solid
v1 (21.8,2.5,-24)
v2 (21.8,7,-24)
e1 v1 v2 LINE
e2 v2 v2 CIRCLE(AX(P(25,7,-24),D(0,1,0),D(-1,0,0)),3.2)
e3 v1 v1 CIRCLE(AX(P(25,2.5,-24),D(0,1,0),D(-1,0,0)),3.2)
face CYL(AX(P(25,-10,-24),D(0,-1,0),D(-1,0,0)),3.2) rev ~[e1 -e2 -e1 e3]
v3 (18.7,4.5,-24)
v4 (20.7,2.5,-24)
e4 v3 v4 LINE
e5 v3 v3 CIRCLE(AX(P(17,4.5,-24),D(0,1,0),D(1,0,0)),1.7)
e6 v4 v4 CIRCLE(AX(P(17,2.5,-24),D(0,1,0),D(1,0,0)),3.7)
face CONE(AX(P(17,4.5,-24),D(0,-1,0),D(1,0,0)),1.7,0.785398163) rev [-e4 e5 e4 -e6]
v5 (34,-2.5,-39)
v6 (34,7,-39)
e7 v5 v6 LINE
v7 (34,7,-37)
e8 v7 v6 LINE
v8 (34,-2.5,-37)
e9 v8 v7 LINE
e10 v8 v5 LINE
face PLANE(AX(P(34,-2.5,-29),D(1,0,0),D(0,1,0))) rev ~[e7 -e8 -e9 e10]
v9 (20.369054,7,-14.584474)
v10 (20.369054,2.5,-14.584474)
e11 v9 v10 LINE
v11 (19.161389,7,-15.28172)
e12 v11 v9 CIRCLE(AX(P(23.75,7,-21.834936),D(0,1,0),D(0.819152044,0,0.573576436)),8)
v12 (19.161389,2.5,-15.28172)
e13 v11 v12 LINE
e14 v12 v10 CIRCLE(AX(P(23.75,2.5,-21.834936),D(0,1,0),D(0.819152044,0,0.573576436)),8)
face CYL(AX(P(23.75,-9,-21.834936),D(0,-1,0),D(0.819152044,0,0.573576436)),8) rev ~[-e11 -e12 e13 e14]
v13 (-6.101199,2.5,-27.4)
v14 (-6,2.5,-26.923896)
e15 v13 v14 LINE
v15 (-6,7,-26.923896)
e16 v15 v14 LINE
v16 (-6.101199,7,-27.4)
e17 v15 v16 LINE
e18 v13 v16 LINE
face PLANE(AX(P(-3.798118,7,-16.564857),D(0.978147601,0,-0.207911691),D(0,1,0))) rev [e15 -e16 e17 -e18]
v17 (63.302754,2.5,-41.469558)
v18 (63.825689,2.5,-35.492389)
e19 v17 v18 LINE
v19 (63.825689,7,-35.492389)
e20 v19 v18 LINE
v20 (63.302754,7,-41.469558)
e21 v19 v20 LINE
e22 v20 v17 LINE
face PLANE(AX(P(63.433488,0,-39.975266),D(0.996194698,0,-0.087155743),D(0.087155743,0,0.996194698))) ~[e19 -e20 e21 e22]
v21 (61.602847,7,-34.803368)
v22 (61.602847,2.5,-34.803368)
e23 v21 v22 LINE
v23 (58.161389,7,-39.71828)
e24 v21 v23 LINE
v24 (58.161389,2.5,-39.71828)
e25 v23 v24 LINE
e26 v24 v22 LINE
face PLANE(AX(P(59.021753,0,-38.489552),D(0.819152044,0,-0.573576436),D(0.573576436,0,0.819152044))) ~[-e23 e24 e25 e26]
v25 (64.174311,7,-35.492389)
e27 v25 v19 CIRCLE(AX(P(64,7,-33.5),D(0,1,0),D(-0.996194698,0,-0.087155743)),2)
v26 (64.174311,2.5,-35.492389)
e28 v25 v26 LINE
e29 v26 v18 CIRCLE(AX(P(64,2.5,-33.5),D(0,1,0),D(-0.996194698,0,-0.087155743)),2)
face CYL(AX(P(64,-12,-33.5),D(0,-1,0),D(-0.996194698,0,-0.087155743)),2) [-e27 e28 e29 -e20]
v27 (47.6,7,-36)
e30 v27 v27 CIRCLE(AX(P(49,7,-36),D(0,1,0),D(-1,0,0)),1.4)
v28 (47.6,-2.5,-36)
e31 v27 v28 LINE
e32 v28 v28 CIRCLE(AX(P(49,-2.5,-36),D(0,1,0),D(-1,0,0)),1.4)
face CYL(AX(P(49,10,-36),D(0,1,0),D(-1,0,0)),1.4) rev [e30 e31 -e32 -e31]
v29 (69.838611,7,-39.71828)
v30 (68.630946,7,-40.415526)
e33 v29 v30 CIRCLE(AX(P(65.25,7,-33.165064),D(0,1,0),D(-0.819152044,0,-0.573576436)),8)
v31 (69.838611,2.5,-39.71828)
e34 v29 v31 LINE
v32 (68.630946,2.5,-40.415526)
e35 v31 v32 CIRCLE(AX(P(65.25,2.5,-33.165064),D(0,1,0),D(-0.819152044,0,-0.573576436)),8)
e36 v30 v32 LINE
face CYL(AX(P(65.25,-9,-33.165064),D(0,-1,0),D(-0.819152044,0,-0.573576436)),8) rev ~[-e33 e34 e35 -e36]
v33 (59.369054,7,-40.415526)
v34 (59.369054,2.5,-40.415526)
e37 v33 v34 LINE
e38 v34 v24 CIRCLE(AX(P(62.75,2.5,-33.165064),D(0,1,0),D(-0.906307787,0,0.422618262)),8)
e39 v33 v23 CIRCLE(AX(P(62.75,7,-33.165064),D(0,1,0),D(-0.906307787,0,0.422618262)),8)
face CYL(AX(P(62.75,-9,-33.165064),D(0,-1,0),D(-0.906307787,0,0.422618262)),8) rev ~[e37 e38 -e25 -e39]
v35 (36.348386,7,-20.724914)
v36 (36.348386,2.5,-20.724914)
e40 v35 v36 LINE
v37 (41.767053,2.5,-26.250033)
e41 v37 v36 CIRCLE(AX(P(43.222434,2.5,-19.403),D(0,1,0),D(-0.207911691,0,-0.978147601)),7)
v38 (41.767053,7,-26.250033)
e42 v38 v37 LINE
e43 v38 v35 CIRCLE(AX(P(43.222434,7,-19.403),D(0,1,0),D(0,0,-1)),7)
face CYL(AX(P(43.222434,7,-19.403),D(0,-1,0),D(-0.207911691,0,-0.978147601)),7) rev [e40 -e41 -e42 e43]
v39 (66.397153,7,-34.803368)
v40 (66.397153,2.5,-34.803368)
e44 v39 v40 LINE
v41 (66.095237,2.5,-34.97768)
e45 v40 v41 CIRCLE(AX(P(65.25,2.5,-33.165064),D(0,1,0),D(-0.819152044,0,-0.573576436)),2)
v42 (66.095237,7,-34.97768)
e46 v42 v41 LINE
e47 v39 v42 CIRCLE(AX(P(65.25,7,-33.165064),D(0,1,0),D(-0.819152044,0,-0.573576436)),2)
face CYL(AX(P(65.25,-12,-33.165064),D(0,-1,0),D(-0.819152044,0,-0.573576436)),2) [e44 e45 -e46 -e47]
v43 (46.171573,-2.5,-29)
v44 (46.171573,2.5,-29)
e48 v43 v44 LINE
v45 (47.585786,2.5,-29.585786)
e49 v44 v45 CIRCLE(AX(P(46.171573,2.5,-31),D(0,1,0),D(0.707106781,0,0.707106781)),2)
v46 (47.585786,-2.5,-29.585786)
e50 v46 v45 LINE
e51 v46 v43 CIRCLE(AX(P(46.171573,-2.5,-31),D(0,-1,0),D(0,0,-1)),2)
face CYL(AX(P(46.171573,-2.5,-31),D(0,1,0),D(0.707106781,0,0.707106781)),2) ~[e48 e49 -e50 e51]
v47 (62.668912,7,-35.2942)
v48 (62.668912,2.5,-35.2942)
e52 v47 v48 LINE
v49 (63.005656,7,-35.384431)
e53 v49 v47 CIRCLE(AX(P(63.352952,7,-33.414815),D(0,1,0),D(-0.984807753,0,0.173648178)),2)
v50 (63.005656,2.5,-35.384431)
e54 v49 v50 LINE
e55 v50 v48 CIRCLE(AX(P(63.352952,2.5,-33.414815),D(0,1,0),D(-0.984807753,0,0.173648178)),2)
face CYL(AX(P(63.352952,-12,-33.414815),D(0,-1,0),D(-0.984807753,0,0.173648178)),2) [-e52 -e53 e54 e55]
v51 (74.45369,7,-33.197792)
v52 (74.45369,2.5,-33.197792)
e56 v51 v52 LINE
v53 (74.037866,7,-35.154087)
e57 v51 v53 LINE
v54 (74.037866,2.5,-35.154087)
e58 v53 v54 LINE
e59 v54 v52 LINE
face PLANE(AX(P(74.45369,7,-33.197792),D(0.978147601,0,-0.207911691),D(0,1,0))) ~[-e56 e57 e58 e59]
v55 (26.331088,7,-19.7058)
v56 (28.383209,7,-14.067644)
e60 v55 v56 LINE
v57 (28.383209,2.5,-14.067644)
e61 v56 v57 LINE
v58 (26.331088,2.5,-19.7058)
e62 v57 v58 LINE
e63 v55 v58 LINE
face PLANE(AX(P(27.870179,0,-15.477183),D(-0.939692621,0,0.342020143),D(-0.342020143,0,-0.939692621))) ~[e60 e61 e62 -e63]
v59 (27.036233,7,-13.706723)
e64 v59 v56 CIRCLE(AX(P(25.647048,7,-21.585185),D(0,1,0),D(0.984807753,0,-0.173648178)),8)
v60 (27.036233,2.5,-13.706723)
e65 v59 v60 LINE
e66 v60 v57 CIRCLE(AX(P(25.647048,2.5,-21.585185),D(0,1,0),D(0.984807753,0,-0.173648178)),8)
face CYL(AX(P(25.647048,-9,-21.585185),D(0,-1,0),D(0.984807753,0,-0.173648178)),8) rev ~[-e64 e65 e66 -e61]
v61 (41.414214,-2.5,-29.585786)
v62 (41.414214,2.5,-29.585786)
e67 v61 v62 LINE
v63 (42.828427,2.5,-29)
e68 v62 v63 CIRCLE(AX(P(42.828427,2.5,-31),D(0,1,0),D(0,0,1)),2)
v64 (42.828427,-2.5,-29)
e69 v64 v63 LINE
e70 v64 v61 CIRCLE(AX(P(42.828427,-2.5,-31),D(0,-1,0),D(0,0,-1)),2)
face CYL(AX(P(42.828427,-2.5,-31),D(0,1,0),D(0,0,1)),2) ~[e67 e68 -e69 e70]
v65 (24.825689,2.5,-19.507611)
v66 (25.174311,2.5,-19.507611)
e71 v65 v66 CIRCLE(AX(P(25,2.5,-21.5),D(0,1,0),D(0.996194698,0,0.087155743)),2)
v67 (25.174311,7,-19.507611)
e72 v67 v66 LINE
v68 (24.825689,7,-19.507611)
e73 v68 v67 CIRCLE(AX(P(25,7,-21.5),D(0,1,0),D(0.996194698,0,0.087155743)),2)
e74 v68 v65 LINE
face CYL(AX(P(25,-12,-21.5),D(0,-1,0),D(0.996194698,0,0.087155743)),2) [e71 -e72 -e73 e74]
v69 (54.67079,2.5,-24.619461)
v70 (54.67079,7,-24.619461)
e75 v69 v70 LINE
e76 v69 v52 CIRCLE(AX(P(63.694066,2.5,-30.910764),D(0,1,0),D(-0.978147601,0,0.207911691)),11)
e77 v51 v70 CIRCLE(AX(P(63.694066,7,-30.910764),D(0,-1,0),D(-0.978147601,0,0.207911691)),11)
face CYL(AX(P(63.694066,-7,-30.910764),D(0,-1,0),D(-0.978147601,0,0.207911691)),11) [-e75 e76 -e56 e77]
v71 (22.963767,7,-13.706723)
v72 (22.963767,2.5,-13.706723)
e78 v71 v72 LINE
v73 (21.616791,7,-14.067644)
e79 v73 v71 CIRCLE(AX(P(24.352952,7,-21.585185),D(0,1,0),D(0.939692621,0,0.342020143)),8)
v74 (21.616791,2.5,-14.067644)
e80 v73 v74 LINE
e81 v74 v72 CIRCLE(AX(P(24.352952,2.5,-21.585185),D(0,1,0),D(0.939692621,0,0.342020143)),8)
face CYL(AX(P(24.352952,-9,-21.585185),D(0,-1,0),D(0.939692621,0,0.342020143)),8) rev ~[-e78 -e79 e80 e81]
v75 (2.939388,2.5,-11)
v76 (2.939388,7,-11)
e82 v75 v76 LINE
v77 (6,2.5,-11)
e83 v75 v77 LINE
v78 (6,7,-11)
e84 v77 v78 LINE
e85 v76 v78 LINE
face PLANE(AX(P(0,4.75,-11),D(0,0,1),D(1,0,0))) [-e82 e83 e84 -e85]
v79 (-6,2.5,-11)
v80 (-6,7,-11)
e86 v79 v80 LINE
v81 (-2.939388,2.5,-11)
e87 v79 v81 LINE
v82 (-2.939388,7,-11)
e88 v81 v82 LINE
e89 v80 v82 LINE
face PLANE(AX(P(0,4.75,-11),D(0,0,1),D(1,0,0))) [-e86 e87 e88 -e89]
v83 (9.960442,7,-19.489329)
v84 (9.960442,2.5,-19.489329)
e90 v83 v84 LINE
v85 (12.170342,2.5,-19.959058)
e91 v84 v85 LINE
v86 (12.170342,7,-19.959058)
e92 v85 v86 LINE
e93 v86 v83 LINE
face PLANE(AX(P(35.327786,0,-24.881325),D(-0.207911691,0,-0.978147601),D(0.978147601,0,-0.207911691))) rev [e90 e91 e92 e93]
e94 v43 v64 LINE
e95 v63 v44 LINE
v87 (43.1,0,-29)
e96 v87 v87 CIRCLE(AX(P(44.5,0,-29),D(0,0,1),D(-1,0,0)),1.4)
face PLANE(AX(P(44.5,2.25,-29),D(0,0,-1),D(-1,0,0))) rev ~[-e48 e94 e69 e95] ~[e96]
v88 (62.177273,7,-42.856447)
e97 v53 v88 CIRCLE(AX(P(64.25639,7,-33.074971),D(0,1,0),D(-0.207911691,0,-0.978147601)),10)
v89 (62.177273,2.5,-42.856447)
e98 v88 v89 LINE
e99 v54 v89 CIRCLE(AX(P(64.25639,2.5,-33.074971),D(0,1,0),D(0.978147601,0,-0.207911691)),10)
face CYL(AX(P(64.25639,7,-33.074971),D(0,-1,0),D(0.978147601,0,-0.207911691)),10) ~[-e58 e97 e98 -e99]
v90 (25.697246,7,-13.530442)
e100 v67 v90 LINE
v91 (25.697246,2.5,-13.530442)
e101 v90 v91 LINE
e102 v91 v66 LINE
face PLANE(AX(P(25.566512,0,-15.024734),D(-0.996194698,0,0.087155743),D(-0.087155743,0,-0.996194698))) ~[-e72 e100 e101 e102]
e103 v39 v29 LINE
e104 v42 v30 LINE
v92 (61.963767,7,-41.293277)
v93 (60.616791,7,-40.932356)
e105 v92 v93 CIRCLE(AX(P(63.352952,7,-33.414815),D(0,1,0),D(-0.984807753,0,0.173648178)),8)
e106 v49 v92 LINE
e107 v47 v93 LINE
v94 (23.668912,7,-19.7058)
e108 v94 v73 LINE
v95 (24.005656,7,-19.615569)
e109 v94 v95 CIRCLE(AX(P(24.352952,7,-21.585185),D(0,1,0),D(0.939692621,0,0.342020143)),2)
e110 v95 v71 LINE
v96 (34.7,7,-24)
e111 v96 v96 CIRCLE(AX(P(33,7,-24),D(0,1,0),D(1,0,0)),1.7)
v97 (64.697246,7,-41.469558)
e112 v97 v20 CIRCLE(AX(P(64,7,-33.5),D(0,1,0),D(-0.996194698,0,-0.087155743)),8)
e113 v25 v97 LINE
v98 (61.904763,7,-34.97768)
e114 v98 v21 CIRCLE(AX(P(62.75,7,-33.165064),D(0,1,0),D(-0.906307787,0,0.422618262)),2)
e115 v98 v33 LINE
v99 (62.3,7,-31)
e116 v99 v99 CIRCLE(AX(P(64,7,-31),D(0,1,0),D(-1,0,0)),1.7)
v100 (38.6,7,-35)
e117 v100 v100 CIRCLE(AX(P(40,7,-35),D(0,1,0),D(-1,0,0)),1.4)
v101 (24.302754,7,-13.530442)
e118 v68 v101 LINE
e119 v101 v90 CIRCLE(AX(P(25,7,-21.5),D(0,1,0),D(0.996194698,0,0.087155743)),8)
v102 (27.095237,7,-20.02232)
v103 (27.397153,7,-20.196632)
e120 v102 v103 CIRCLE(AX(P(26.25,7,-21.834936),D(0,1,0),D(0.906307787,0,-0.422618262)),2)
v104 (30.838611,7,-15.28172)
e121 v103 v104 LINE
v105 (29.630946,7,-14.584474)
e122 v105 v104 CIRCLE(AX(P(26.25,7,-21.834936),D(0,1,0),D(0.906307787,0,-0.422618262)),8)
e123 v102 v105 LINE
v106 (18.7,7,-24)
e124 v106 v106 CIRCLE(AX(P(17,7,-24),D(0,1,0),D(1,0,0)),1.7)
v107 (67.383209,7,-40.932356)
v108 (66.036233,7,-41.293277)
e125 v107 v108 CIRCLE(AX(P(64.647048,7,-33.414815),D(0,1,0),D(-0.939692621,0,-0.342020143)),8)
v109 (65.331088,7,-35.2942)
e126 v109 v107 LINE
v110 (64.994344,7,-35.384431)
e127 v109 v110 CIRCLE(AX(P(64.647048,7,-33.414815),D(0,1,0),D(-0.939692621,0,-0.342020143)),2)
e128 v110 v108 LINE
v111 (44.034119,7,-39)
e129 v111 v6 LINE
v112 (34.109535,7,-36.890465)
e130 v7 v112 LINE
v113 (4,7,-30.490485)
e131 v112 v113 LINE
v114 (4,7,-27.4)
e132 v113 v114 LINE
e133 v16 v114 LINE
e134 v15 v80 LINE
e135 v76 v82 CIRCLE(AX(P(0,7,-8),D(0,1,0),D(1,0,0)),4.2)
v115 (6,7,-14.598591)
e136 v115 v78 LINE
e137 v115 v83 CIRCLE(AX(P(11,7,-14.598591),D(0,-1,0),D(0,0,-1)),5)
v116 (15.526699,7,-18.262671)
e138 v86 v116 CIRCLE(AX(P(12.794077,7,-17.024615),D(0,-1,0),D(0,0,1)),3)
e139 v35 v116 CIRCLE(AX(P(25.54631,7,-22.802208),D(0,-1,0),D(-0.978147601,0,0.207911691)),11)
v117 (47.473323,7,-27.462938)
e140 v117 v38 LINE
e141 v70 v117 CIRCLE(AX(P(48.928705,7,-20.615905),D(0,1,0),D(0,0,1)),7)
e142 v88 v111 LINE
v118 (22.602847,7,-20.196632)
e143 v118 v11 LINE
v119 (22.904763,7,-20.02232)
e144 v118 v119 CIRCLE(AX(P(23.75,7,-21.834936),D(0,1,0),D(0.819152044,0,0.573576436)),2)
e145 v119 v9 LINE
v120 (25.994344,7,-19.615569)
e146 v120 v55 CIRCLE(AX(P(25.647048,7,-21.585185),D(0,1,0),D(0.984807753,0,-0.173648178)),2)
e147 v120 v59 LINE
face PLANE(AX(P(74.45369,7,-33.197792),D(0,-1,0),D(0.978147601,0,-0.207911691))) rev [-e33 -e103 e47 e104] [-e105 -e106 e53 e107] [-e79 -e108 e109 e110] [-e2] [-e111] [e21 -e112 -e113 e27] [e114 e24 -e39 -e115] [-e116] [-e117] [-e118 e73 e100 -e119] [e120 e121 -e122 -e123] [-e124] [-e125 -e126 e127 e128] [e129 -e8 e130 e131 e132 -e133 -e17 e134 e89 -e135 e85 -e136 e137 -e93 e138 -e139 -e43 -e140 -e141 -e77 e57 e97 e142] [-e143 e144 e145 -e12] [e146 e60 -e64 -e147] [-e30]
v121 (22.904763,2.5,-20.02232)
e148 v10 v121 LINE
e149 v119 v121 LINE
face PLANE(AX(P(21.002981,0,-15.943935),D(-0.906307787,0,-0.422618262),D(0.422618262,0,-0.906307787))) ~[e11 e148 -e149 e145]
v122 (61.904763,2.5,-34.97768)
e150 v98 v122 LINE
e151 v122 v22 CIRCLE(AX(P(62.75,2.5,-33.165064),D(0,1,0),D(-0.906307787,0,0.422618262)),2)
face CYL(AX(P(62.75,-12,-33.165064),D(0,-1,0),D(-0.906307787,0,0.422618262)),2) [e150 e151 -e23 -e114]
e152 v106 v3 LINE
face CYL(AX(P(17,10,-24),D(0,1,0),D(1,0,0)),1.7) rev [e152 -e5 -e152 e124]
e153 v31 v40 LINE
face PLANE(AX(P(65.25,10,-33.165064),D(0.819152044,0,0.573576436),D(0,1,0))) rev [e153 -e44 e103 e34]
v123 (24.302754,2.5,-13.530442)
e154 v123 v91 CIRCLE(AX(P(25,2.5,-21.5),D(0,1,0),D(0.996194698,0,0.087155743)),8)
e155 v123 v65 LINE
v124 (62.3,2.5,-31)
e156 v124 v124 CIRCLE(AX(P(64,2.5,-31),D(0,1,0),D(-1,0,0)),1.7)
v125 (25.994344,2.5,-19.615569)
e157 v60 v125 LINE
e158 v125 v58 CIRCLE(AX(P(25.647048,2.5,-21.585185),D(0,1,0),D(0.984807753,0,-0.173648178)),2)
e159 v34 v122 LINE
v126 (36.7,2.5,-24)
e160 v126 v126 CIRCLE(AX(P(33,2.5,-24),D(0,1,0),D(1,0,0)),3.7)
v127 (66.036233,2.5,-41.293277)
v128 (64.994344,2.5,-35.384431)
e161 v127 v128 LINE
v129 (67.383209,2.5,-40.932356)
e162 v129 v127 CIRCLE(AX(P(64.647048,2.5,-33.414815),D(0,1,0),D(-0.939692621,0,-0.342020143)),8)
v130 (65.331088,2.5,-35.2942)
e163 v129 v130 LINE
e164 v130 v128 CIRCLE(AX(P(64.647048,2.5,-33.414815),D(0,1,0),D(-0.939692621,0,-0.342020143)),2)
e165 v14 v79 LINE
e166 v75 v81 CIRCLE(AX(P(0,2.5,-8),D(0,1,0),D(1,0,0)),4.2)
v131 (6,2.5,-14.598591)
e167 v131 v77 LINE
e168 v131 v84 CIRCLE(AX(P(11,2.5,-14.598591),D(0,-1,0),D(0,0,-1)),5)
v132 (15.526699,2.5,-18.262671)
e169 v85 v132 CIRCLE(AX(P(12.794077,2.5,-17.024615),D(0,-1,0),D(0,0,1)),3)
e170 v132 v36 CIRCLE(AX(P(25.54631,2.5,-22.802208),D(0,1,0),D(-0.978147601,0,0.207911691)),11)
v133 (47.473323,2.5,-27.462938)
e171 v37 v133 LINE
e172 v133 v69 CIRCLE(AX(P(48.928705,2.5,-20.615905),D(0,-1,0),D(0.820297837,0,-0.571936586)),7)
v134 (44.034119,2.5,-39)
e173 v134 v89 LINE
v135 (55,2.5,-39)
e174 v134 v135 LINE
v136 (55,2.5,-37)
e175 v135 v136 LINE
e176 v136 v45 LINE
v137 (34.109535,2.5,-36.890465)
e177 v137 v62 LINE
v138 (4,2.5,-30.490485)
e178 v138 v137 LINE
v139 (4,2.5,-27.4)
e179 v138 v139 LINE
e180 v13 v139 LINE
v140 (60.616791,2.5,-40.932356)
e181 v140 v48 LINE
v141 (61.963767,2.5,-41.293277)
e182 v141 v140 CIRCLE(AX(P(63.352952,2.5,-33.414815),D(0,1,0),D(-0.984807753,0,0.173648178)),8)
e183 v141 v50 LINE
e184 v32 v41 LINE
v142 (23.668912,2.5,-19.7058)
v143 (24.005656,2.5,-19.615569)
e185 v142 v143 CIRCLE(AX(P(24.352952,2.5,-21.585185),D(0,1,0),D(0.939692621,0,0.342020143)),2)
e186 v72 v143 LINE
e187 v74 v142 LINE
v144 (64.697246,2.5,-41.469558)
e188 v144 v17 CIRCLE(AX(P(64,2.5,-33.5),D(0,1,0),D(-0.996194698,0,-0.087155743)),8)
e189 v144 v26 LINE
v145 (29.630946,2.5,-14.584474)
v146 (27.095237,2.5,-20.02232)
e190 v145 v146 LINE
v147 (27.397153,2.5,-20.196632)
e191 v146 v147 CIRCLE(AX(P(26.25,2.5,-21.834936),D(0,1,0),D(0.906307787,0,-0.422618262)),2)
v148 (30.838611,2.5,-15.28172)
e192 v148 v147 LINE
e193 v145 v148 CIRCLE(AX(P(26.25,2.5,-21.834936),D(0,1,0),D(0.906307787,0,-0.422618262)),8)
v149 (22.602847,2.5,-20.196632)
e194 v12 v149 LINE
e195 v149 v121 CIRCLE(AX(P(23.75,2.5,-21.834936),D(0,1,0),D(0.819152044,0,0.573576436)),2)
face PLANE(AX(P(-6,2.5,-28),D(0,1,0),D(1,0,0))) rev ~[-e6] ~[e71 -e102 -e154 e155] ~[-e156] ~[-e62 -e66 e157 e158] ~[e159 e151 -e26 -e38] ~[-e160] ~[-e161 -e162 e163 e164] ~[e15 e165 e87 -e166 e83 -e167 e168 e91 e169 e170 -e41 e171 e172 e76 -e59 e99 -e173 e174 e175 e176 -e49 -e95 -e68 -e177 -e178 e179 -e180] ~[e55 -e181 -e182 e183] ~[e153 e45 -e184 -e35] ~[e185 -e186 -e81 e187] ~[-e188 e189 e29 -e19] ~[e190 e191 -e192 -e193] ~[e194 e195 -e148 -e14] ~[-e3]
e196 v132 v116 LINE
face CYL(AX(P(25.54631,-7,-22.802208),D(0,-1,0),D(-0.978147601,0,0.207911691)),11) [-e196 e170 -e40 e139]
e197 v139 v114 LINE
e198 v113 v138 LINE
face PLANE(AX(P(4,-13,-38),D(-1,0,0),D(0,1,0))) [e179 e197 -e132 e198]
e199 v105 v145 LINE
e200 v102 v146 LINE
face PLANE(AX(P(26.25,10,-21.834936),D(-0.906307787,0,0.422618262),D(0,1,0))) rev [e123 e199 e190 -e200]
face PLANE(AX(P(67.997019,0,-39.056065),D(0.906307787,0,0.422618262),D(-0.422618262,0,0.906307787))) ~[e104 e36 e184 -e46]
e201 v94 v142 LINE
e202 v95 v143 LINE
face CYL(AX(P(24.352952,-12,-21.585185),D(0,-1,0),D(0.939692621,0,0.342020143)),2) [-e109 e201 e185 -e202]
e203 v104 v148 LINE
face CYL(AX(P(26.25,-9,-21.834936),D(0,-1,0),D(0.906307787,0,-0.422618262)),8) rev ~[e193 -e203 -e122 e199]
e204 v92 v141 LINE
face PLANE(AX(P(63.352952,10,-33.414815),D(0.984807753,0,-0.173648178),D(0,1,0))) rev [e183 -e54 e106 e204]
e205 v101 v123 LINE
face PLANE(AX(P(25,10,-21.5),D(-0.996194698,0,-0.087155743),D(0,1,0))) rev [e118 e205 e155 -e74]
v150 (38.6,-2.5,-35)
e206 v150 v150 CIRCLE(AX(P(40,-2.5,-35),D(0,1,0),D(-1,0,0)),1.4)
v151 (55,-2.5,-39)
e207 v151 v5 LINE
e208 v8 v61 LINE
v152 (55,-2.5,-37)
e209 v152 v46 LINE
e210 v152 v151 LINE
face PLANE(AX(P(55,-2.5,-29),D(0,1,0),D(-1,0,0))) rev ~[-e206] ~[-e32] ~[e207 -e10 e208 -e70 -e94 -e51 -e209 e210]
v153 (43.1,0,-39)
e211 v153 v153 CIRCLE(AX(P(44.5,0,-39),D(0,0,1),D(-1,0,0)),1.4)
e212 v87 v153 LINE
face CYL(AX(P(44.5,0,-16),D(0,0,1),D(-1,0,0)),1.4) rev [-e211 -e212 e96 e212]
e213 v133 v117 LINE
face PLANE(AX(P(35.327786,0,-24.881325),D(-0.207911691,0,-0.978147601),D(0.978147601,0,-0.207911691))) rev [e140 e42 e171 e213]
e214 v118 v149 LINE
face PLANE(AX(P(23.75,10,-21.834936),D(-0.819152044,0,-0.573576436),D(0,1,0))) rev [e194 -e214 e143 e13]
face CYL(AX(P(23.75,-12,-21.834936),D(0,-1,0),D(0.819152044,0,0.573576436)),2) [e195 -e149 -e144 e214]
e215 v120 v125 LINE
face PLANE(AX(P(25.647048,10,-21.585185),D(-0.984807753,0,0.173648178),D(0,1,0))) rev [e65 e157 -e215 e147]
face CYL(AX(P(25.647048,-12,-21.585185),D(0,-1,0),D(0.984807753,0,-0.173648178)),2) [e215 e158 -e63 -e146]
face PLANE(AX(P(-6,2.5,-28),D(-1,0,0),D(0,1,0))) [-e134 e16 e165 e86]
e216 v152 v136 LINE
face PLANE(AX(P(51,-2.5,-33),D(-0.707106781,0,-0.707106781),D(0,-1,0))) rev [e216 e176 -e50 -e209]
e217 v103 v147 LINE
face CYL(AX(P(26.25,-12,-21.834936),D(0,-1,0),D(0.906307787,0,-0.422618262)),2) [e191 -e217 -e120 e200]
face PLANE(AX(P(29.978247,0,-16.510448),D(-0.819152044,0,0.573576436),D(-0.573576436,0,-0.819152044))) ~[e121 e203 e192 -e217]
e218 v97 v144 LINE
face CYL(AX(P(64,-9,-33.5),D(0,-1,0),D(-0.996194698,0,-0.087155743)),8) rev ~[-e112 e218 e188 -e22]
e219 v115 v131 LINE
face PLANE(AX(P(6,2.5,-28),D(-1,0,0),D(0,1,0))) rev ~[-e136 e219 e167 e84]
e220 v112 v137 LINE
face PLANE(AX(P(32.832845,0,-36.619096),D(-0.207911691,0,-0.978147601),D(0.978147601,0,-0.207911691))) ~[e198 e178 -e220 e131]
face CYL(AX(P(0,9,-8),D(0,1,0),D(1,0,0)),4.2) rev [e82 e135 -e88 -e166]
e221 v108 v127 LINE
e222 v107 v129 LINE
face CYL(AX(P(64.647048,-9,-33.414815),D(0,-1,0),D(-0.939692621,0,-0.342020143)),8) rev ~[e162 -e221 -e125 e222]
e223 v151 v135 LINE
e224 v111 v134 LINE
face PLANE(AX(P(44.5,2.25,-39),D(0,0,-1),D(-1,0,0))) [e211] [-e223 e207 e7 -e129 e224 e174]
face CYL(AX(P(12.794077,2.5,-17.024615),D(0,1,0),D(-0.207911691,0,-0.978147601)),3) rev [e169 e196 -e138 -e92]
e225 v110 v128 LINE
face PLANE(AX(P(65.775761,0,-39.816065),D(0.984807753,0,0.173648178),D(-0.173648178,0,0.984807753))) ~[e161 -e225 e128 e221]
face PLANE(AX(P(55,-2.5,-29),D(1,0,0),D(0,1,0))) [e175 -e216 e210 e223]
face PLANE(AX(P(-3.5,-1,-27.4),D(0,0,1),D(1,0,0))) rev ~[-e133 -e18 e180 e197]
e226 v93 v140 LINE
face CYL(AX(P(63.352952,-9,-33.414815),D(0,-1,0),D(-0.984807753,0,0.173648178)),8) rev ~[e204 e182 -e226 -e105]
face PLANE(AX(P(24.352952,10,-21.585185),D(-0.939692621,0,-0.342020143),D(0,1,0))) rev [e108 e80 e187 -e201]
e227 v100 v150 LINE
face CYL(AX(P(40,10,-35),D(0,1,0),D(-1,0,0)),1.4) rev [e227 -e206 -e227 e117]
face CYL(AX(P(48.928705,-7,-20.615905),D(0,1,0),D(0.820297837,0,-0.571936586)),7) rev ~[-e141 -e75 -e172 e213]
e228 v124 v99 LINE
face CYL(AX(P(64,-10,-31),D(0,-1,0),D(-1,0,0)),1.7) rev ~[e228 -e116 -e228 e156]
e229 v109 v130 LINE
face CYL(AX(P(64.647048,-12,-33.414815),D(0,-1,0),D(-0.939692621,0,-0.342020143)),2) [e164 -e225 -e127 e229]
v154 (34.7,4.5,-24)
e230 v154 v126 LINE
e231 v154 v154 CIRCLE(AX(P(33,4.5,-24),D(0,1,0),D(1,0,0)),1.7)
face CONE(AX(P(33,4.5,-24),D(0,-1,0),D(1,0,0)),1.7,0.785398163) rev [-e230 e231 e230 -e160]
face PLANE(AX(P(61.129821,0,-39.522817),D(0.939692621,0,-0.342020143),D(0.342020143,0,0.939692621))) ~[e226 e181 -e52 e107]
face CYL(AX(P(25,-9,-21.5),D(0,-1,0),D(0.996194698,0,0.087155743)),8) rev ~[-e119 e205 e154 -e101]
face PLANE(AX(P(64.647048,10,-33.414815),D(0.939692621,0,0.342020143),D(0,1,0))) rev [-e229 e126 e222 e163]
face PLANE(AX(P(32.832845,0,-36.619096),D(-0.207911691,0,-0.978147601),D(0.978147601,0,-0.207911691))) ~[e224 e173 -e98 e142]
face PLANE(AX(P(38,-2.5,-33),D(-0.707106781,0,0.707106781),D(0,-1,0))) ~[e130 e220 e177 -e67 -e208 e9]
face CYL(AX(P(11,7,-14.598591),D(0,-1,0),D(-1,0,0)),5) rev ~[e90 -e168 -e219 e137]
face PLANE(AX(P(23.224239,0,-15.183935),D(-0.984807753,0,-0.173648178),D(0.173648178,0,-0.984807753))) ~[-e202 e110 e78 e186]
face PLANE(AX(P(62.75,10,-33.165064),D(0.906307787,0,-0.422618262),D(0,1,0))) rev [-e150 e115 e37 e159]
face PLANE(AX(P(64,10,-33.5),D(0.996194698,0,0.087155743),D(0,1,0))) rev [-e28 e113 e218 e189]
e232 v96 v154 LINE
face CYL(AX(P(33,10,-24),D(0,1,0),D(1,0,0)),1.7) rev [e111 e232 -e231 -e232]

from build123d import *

# Parameters (mm, degrees)
CYLINDER071_R             = 1.7
CYLINDER071_DEPTH         = 10
CYLINDER071_ROLL_ANGLE    = 90
CYLINDER070_R             = 1.7
CYLINDER070_DEPTH         = 10
CYLINDER070_ROLL_ANGLE    = 90
BOX001027009_W            = 15
BOX001027009_H            = 24
BOX001027009_DEPTH        = 10.6
CYLINDER067_R             = 4.2
CYLINDER067_DEPTH         = 18
CYLINDER067_ROLL_ANGLE    = 90
BOX001027007_W            = 12
BOX001027007_H            = 4.5
BOX001027007_DEPTH        = 17
CYLINDER053_R             = 1.4
CYLINDER053_DEPTH         = 20
CYLINDER053_ROLL_ANGLE    = 90
CYLINDER052_R             = 1.4
CYLINDER052_DEPTH         = 20
CYLINDER052_ROLL_ANGLE    = 90
CYLINDER049_R             = 1.4
CYLINDER049_DEPTH         = 30
BOX001019_W               = 100
BOX001019_H               = 22
BOX001019_DEPTH           = 40
CYLINDER046_R             = 3.2
CYLINDER046_DEPTH         = 20
CYLINDER046_ROLL_ANGLE    = 90
BOX001018_W               = 2
BOX001018_H               = 20
BOX001018_DEPTH           = 13
CYLINDER047_R             = 2
CYLINDER047_DEPTH         = 26
CYLINDER047_ROLL_ANGLE    = 90
CYLINDER048_R             = 8
CYLINDER048_DEPTH         = 18
CYLINDER048_ROLL_ANGLE    = 90
BOX001017_W               = 13
BOX001017_H               = 20
BOX001017_DEPTH           = 2
BOX001017_PLACEMENT_ANGLE = 80
COMMON013_PITCH_ANGLE     = 10
COMMON014_PLACEMENT_ANGLE = 25
COMMON015_PITCH_ANGLE     = -20
COMMON016_PITCH_ANGLE     = -35
COMMON012_PITCH_ANGLE     = -5
FUSION064_PLACEMENT_ANGLE = 180
CYLINDER045_R             = 1.7
CYLINDER045_DEPTH         = 20
CYLINDER045_ROLL_ANGLE    = 90
CYLINDER043_R             = 11
CYLINDER043_DEPTH         = 14
CYLINDER043_ROLL_ANGLE    = 90
BOX001016_W               = 80
BOX001016_H               = 14
BOX001016_DEPTH           = 12
CYLINDER044_R             = 11
CYLINDER044_DEPTH         = 14
CYLINDER044_ROLL_ANGLE    = 90
FILLET003_R               = 10
FILLET003_PITCH_ANGLE     = 12
FILLET005_R               = 7
FILLET006_R               = 7
BOX001020_W               = 21
BOX001020_H               = 9.5
BOX001020_DEPTH           = 10
CHAMFER001_SIZE           = 8
FILLET004_R               = 2
CUT020_PLACEMENT_ANGLE    = 180
FILLET008_R               = 5
FILLET010_R               = 3
CHAMFER004_SIZE           = 2


with BuildPart() as cylinder067:
    # Cylinder071 → Cylinder071 (new body)
    with BuildSketch(Plane.XY):
        Circle(CYLINDER071_R)
    extrude(amount=CYLINDER071_DEPTH)


with BuildPart() as cylinder067_1:
    # Cylinder071 roll: moved
    add(cylinder067.part.rotate(Axis((0, 0, 0), (1, 0, 0)), CYLINDER071_ROLL_ANGLE))


with BuildPart() as cylinder067_2:
    # Cylinder071 placement: moved
    add(cylinder067_1.part.moved(Location((33, 10, -24))))


with BuildPart() as mounting_holes:
    # Cylinder070 → Cylinder070 (new body)
    with BuildSketch(Plane.XY):
        Circle(CYLINDER070_R)
    extrude(amount=CYLINDER070_DEPTH)


with BuildPart() as mounting_holes_1:
    # Cylinder070 roll: moved
    add(mounting_holes.part.rotate(Axis((0, 0, 0), (1, 0, 0)), CYLINDER070_ROLL_ANGLE))


with BuildPart() as mounting_holes_2:
    # Cylinder070 placement: moved
    add(mounting_holes_1.part.moved(Location((17, 10, -24))))

    # Fusion084: union Cylinder067
    add(cylinder067_2.part)


with BuildPart() as cube029:
    # Box001027009 → Box001027009 (new body)
    with BuildSketch(Plane(origin=(-11, -13, -38), x_dir=(1, 0, 0), z_dir=(0, 0, 1))):
        with Locations((7.5, 12)):
            Rectangle(BOX001027009_W, BOX001027009_H)
    extrude(amount=BOX001027009_DEPTH)


with BuildPart() as cylinder067_body:
    # Cylinder067 → Cylinder067 (new body)
    with BuildSketch(Plane.XY):
        Circle(CYLINDER067_R)
    extrude(amount=CYLINDER067_DEPTH)


with BuildPart() as cylinder067_body_1:
    # Cylinder067 roll: moved
    add(cylinder067_body.part.rotate(Axis((0, 0, 0), (1, 0, 0)), CYLINDER067_ROLL_ANGLE))


with BuildPart() as cylinder067_body_2:
    # Cylinder067 placement: moved
    add(cylinder067_body_1.part.moved(Location((0, 9, -8))))


with BuildPart() as cube027:
    # Box001027007 → Box001027007 (new body)
    with BuildSketch(Plane(origin=(-6, 2.5, -28), x_dir=(1, 0, 0), z_dir=(0, 0, 1))):
        with Locations((6, 2.25)):
            Rectangle(BOX001027007_W, BOX001027007_H)
    extrude(amount=BOX001027007_DEPTH)


with BuildPart() as cylinder053:
    # Cylinder053 → Cylinder053 (new body)
    with BuildSketch(Plane.XY):
        Circle(CYLINDER053_R)
    extrude(amount=CYLINDER053_DEPTH)


with BuildPart() as cylinder053_1:
    # Cylinder053 roll: moved
    add(cylinder053.part.rotate(Axis((0, 0, 0), (1, 0, 0)), CYLINDER053_ROLL_ANGLE))


with BuildPart() as cylinder053_2:
    # Cylinder053 placement: moved
    add(cylinder053_1.part.moved(Location((35, 10, 19))))


with BuildPart() as fusion068:
    # Cylinder052 → Cylinder052 (new body)
    with BuildSketch(Plane.XY):
        Circle(CYLINDER052_R)
    extrude(amount=CYLINDER052_DEPTH)


with BuildPart() as fusion068_1:
    # Cylinder052 roll: moved
    add(fusion068.part.rotate(Axis((0, 0, 0), (1, 0, 0)), CYLINDER052_ROLL_ANGLE))


with BuildPart() as fusion068_2:
    # Cylinder052 placement: moved
    add(fusion068_1.part.moved(Location((26, 10, 20))))

    # Fusion068: union Cylinder053
    add(cylinder053_2.part)


with BuildPart() as cylinder049:
    # Cylinder049 → Cylinder049 (new body)
    with BuildSketch(Plane(origin=(30.5, 0, 0), x_dir=(1, 0, 0), z_dir=(0, 0, 1))):
        Circle(CYLINDER049_R)
    extrude(amount=CYLINDER049_DEPTH)


with BuildPart() as cube017:
    # Box001019 → Box001019 (new body)
    with BuildSketch(Plane(origin=(-2, -2.5, -8), x_dir=(1, 0, 0), z_dir=(0, 0, 1))):
        with Locations((50, 11)):
            Rectangle(BOX001019_W, BOX001019_H)
    extrude(amount=BOX001019_DEPTH)


with BuildPart() as cylinder046:
    # Cylinder046 → Cylinder046 (new body)
    with BuildSketch(Plane.XY):
        Circle(CYLINDER046_R)
    extrude(amount=CYLINDER046_DEPTH)


with BuildPart() as cylinder046_1:
    # Cylinder046 roll: moved
    add(cylinder046.part.rotate(Axis((0, 0, 0), (1, 0, 0)), CYLINDER046_ROLL_ANGLE))


with BuildPart() as cylinder046_2:
    # Cylinder046 placement: moved
    add(cylinder046_1.part.moved(Location((50, 10, 8))))


with BuildPart() as cube016:
    # Box001018 → Box001018 (new body)
    with BuildSketch(Plane(origin=(0, -10, 0), x_dir=(1, 0, 0), z_dir=(0, 0, 1))):
        with Locations((1, 10)):
            Rectangle(BOX001018_W, BOX001018_H)
    extrude(amount=BOX001018_DEPTH)


with BuildPart() as cylinder047:
    # Cylinder047 → Cylinder047 (new body)
    with BuildSketch(Plane.XY):
        Circle(CYLINDER047_R)
    extrude(amount=CYLINDER047_DEPTH)


with BuildPart() as cylinder047_1:
    # Cylinder047 roll: moved
    add(cylinder047.part.rotate(Axis((0, 0, 0), (1, 0, 0)), CYLINDER047_ROLL_ANGLE))


with BuildPart() as cylinder047_2:
    # Cylinder047 placement: moved
    add(cylinder047_1.part.moved(Location((0, 12, 0))))


with BuildPart() as cut014:
    # Cylinder048 → Cylinder048 (new body)
    with BuildSketch(Plane.XY):
        Circle(CYLINDER048_R)
    extrude(amount=CYLINDER048_DEPTH)


with BuildPart() as cut014_1:
    # Cylinder048 roll: moved
    add(cut014.part.rotate(Axis((0, 0, 0), (1, 0, 0)), CYLINDER048_ROLL_ANGLE))


with BuildPart() as cut014_2:
    # Cylinder048 placement: moved
    add(cut014_1.part.moved(Location((0, 9, 0))))

    # Cut014: cut Cylinder047
    add(cylinder047_2.part, mode=Mode.SUBTRACT)


with BuildPart() as cube015:
    # Box001017 → Box001017 (new body)
    with BuildSketch(Plane.XY):
        with Locations((6.5, 10)):
            Rectangle(BOX001017_W, BOX001017_H)
    extrude(amount=BOX001017_DEPTH)


with BuildPart() as cube015_1:
    # Box001017 placement: moved
    add(cube015.part.moved(Location((0, -10, 0))).rotate(Axis((0, -10, 0), (0, -1, 0)), BOX001017_PLACEMENT_ANGLE))


with BuildPart() as common013:
    # Common013 base: copy of Cube015
    add(cube015_1.part)

    # Common013: intersect Cube016, Cut014
    add(cube016.part, mode=Mode.INTERSECT)
    add(cut014_2.part, mode=Mode.INTERSECT)


with BuildPart() as common013_1:
    # Common013 pitch: moved
    add(common013.part.rotate(Axis((0, 0, 0), (0, 1, 0)), COMMON013_PITCH_ANGLE))


with BuildPart() as common013_2:
    # Common013 placement: moved
    add(common013_1.part.moved(Location((0.647048, 0, 2.414815))))


with BuildPart() as common014:
    # Common014 base: copy of Cube015
    add(cube015_1.part)

    # Common014: intersect Cube016, Cut014
    add(cube016.part, mode=Mode.INTERSECT)
    add(cut014_2.part, mode=Mode.INTERSECT)


with BuildPart() as common014_1:
    # Common014 placement: moved
    add(common014.part.moved(Location((1.25, 0, 2.165064))).rotate(Axis((1.25, 0, 2.165064), (0, 1, 0)), COMMON014_PLACEMENT_ANGLE))


with BuildPart() as common015:
    # Common015 base: copy of Cube015
    add(cube015_1.part)

    # Common015: intersect Cube016, Cut014
    add(cube016.part, mode=Mode.INTERSECT)
    add(cut014_2.part, mode=Mode.INTERSECT)


with BuildPart() as common015_1:
    # Common015 pitch: moved
    add(common015.part.rotate(Axis((0, 0, 0), (0, 1, 0)), COMMON015_PITCH_ANGLE))


with BuildPart() as common015_2:
    # Common015 placement: moved
    add(common015_1.part.moved(Location((-0.647048, 0, 2.414815))))


with BuildPart() as common016:
    # Common016 base: copy of Cube015
    add(cube015_1.part)

    # Common016: intersect Cube016, Cut014
    add(cube016.part, mode=Mode.INTERSECT)
    add(cut014_2.part, mode=Mode.INTERSECT)


with BuildPart() as common016_1:
    # Common016 pitch: moved
    add(common016.part.rotate(Axis((0, 0, 0), (0, 1, 0)), COMMON016_PITCH_ANGLE))


with BuildPart() as common016_2:
    # Common016 placement: moved
    add(common016_1.part.moved(Location((-1.25, 0, 2.165064))))


with BuildPart() as common012:
    # Common012 base: copy of Cube015
    add(cube015_1.part)

    # Common012: intersect Cube016, Cut014
    add(cube016.part, mode=Mode.INTERSECT)
    add(cut014_2.part, mode=Mode.INTERSECT)


with BuildPart() as common012_1:
    # Common012 pitch: moved
    add(common012.part.rotate(Axis((0, 0, 0), (0, 1, 0)), COMMON012_PITCH_ANGLE))


with BuildPart() as common012_2:
    # Common012 placement: moved
    add(common012_1.part.moved(Location((0, 0, 2.5))))


with BuildPart() as strength_slots002:
    # Fusion063 base: copy of Common012
    add(common012_2.part)

    # Fusion063: union Common013, Common014, Common015, Common016
    add(common013_2.part)
    add(common014_1.part)
    add(common015_2.part)
    add(common016_2.part)


with BuildPart() as strength_slots002_1:
    # Fusion063 placement: moved
    add(strength_slots002.part.moved(Location((11, 0, 15))))


with BuildPart() as strength_slots003:
    # Fusion064 base: copy of Common012
    add(common012_2.part)

    # Fusion064: union Common013, Common014, Common015, Common016
    add(common013_2.part)
    add(common014_1.part)
    add(common015_2.part)
    add(common016_2.part)


with BuildPart() as strength_slots003_1:
    # Fusion064 placement: moved
    add(strength_slots003.part.moved(Location((50, 0, 8))).rotate(Axis((50, 0, 8), (0, 1, 0)), FUSION064_PLACEMENT_ANGLE))


with BuildPart() as fusion065:
    # Cylinder045 → Cylinder045 (new body)
    with BuildSketch(Plane.XY):
        Circle(CYLINDER045_R)
    extrude(amount=CYLINDER045_DEPTH)


with BuildPart() as fusion065_1:
    # Cylinder045 roll: moved
    add(fusion065.part.rotate(Axis((0, 0, 0), (1, 0, 0)), CYLINDER045_ROLL_ANGLE))


with BuildPart() as fusion065_2:
    # Cylinder045 placement: moved
    add(fusion065_1.part.moved(Location((11, 10, 15))))

    # Fusion065: union Cylinder046, strength-slots002, strength-slots003
    add(cylinder046_2.part)
    add(strength_slots002_1.part)
    add(strength_slots003_1.part)


with BuildPart() as cylinder043:
    # Cylinder043 → Cylinder043 (new body)
    with BuildSketch(Plane.XY):
        Circle(CYLINDER043_R)
    extrude(amount=CYLINDER043_DEPTH)


with BuildPart() as cylinder043_1:
    # Cylinder043 roll: moved
    add(cylinder043.part.rotate(Axis((0, 0, 0), (1, 0, 0)), CYLINDER043_ROLL_ANGLE))


with BuildPart() as cylinder043_2:
    # Cylinder043 placement: moved
    add(cylinder043_1.part.moved(Location((11, 7, 12))))


with BuildPart() as cube014:
    # Box001016 → Box001016 (new body)
    with BuildSketch(Plane(origin=(0, -7, 12), x_dir=(1, 0, 0), z_dir=(0, 0, 1))):
        with Locations((40, 7)):
            Rectangle(BOX001016_W, BOX001016_H)
    extrude(amount=BOX001016_DEPTH)


with BuildPart() as cut017:
    # Cylinder044 → Cylinder044 (new body)
    with BuildSketch(Plane.XY):
        Circle(CYLINDER044_R)
    extrude(amount=CYLINDER044_DEPTH)


with BuildPart() as cut017_1:
    # Cylinder044 roll: moved
    add(cut017.part.rotate(Axis((0, 0, 0), (1, 0, 0)), CYLINDER044_ROLL_ANGLE))


with BuildPart() as cut017_2:
    # Cylinder044 placement: moved
    add(cut017_1.part.moved(Location((50, 7, 12))))

    # Fusion062: union Cylinder043, Cube014
    add(cylinder043_2.part)
    add(cube014.part)

    # Fillet003
    fillet003_edges = [cut017_2.edges().sort_by_distance(p)[0] for p in [
        (0, 0, 24),
    ]]
    fillet(fillet003_edges, radius=FILLET003_R)


with BuildPart() as cut017_3:
    # Fillet003 pitch: moved
    add(cut017_2.part.rotate(Axis((0, 0, 0), (0, 1, 0)), FILLET003_PITCH_ANGLE))


with BuildPart() as cut017_4:
    # Fillet003 placement: moved
    add(cut017_3.part.moved(Location((-1.94863, 0, 5.460021))))

    # Fillet005
    fillet005_edges = [cut017_4.edges().sort_by_distance(p)[0] for p in [
        (22.065557, 0, 12.623735),
    ]]
    fillet(fillet005_edges, radius=FILLET005_R)

    # Fillet006
    fillet006_edges = [cut017_4.edges().sort_by_distance(p)[0] for p in [
        (38.694066, 0, 9.089236),
    ]]
    fillet(fillet006_edges, radius=FILLET006_R)

    # Cut015: cut Fusion065
    add(fusion065_2.part, mode=Mode.SUBTRACT)

    # Cut017: cut Cube017
    add(cube017.part, mode=Mode.SUBTRACT)


with BuildPart() as part_mirroring004:
    # Part__Mirroring004: instance of Cut017
    add(cut017_4.part.mirror(Plane(origin=(0, 0, 0), x_dir=(1, 0, 0), z_dir=(0, 1, 0))))


with BuildPart() as cut_holder_basex:
    # Box001020 → Box001020 (new body)
    with BuildSketch(Plane(origin=(20, -2.5, 13), x_dir=(1, 0, 0), z_dir=(0, 0, 1))):
        with Locations((10.5, 4.75)):
            Rectangle(BOX001020_W, BOX001020_H)
    extrude(amount=BOX001020_DEPTH)

    # Chamfer001
    chamfer001_edges = [cut_holder_basex.edges().sort_by_distance(p)[0] for p in [
        (20, 2.25, 13),
        (41, 2.25, 13),
    ]]
    chamfer(chamfer001_edges, length=CHAMFER001_SIZE)

    # Fillet004
    fillet004_edges = [cut_holder_basex.edges().sort_by_distance(p)[0] for p in [
        (28, 2.25, 13),
        (33, 2.25, 13),
    ]]
    fillet(fillet004_edges, radius=FILLET004_R)

    # Fusion066: union Part__Mirroring004
    add(part_mirroring004.part)

    # Cut018: cut Cylinder049
    add(cylinder049.part, mode=Mode.SUBTRACT)

    # Cut020: cut Fusion068
    add(fusion068_2.part, mode=Mode.SUBTRACT)


with BuildPart() as cut_holder_basex_1:
    # Cut020 placement: moved
    add(cut_holder_basex.part.moved(Location((75, 0, -16))).rotate(Axis((75, 0, -16), (0, 1, 0)), CUT020_PLACEMENT_ANGLE))

    # Fusion083: union Cube027
    add(cube027.part)

    # Fillet008
    fillet008_edges = [cut_holder_basex_1.edges().sort_by_distance(p)[0] for p in [
        (6, 4.75, -18.647511),
    ]]
    fillet(fillet008_edges, radius=FILLET008_R)

    # Fillet010
    fillet010_edges = [cut_holder_basex_1.edges().sort_by_distance(p)[0] for p in [
        (14.786686, 4.75, -20.515179),
    ]]
    fillet(fillet010_edges, radius=FILLET010_R)

    # Cut037: cut Cylinder067 body
    add(cylinder067_body_2.part, mode=Mode.SUBTRACT)

    # Cut040: cut Cube029
    add(cube029.part, mode=Mode.SUBTRACT)

    # Cut042: cut mounting-holes
    add(mounting_holes_2.part, mode=Mode.SUBTRACT)

    # Chamfer004
    chamfer004_edges = [cut_holder_basex_1.edges().sort_by_distance(p)[0] for p in [
        (31.3, 2.5, -24),
        (15.3, 2.5, -24),
    ]]
    chamfer(chamfer004_edges, length=CHAMFER004_SIZE)


solid = cut_holder_basex_1.part
